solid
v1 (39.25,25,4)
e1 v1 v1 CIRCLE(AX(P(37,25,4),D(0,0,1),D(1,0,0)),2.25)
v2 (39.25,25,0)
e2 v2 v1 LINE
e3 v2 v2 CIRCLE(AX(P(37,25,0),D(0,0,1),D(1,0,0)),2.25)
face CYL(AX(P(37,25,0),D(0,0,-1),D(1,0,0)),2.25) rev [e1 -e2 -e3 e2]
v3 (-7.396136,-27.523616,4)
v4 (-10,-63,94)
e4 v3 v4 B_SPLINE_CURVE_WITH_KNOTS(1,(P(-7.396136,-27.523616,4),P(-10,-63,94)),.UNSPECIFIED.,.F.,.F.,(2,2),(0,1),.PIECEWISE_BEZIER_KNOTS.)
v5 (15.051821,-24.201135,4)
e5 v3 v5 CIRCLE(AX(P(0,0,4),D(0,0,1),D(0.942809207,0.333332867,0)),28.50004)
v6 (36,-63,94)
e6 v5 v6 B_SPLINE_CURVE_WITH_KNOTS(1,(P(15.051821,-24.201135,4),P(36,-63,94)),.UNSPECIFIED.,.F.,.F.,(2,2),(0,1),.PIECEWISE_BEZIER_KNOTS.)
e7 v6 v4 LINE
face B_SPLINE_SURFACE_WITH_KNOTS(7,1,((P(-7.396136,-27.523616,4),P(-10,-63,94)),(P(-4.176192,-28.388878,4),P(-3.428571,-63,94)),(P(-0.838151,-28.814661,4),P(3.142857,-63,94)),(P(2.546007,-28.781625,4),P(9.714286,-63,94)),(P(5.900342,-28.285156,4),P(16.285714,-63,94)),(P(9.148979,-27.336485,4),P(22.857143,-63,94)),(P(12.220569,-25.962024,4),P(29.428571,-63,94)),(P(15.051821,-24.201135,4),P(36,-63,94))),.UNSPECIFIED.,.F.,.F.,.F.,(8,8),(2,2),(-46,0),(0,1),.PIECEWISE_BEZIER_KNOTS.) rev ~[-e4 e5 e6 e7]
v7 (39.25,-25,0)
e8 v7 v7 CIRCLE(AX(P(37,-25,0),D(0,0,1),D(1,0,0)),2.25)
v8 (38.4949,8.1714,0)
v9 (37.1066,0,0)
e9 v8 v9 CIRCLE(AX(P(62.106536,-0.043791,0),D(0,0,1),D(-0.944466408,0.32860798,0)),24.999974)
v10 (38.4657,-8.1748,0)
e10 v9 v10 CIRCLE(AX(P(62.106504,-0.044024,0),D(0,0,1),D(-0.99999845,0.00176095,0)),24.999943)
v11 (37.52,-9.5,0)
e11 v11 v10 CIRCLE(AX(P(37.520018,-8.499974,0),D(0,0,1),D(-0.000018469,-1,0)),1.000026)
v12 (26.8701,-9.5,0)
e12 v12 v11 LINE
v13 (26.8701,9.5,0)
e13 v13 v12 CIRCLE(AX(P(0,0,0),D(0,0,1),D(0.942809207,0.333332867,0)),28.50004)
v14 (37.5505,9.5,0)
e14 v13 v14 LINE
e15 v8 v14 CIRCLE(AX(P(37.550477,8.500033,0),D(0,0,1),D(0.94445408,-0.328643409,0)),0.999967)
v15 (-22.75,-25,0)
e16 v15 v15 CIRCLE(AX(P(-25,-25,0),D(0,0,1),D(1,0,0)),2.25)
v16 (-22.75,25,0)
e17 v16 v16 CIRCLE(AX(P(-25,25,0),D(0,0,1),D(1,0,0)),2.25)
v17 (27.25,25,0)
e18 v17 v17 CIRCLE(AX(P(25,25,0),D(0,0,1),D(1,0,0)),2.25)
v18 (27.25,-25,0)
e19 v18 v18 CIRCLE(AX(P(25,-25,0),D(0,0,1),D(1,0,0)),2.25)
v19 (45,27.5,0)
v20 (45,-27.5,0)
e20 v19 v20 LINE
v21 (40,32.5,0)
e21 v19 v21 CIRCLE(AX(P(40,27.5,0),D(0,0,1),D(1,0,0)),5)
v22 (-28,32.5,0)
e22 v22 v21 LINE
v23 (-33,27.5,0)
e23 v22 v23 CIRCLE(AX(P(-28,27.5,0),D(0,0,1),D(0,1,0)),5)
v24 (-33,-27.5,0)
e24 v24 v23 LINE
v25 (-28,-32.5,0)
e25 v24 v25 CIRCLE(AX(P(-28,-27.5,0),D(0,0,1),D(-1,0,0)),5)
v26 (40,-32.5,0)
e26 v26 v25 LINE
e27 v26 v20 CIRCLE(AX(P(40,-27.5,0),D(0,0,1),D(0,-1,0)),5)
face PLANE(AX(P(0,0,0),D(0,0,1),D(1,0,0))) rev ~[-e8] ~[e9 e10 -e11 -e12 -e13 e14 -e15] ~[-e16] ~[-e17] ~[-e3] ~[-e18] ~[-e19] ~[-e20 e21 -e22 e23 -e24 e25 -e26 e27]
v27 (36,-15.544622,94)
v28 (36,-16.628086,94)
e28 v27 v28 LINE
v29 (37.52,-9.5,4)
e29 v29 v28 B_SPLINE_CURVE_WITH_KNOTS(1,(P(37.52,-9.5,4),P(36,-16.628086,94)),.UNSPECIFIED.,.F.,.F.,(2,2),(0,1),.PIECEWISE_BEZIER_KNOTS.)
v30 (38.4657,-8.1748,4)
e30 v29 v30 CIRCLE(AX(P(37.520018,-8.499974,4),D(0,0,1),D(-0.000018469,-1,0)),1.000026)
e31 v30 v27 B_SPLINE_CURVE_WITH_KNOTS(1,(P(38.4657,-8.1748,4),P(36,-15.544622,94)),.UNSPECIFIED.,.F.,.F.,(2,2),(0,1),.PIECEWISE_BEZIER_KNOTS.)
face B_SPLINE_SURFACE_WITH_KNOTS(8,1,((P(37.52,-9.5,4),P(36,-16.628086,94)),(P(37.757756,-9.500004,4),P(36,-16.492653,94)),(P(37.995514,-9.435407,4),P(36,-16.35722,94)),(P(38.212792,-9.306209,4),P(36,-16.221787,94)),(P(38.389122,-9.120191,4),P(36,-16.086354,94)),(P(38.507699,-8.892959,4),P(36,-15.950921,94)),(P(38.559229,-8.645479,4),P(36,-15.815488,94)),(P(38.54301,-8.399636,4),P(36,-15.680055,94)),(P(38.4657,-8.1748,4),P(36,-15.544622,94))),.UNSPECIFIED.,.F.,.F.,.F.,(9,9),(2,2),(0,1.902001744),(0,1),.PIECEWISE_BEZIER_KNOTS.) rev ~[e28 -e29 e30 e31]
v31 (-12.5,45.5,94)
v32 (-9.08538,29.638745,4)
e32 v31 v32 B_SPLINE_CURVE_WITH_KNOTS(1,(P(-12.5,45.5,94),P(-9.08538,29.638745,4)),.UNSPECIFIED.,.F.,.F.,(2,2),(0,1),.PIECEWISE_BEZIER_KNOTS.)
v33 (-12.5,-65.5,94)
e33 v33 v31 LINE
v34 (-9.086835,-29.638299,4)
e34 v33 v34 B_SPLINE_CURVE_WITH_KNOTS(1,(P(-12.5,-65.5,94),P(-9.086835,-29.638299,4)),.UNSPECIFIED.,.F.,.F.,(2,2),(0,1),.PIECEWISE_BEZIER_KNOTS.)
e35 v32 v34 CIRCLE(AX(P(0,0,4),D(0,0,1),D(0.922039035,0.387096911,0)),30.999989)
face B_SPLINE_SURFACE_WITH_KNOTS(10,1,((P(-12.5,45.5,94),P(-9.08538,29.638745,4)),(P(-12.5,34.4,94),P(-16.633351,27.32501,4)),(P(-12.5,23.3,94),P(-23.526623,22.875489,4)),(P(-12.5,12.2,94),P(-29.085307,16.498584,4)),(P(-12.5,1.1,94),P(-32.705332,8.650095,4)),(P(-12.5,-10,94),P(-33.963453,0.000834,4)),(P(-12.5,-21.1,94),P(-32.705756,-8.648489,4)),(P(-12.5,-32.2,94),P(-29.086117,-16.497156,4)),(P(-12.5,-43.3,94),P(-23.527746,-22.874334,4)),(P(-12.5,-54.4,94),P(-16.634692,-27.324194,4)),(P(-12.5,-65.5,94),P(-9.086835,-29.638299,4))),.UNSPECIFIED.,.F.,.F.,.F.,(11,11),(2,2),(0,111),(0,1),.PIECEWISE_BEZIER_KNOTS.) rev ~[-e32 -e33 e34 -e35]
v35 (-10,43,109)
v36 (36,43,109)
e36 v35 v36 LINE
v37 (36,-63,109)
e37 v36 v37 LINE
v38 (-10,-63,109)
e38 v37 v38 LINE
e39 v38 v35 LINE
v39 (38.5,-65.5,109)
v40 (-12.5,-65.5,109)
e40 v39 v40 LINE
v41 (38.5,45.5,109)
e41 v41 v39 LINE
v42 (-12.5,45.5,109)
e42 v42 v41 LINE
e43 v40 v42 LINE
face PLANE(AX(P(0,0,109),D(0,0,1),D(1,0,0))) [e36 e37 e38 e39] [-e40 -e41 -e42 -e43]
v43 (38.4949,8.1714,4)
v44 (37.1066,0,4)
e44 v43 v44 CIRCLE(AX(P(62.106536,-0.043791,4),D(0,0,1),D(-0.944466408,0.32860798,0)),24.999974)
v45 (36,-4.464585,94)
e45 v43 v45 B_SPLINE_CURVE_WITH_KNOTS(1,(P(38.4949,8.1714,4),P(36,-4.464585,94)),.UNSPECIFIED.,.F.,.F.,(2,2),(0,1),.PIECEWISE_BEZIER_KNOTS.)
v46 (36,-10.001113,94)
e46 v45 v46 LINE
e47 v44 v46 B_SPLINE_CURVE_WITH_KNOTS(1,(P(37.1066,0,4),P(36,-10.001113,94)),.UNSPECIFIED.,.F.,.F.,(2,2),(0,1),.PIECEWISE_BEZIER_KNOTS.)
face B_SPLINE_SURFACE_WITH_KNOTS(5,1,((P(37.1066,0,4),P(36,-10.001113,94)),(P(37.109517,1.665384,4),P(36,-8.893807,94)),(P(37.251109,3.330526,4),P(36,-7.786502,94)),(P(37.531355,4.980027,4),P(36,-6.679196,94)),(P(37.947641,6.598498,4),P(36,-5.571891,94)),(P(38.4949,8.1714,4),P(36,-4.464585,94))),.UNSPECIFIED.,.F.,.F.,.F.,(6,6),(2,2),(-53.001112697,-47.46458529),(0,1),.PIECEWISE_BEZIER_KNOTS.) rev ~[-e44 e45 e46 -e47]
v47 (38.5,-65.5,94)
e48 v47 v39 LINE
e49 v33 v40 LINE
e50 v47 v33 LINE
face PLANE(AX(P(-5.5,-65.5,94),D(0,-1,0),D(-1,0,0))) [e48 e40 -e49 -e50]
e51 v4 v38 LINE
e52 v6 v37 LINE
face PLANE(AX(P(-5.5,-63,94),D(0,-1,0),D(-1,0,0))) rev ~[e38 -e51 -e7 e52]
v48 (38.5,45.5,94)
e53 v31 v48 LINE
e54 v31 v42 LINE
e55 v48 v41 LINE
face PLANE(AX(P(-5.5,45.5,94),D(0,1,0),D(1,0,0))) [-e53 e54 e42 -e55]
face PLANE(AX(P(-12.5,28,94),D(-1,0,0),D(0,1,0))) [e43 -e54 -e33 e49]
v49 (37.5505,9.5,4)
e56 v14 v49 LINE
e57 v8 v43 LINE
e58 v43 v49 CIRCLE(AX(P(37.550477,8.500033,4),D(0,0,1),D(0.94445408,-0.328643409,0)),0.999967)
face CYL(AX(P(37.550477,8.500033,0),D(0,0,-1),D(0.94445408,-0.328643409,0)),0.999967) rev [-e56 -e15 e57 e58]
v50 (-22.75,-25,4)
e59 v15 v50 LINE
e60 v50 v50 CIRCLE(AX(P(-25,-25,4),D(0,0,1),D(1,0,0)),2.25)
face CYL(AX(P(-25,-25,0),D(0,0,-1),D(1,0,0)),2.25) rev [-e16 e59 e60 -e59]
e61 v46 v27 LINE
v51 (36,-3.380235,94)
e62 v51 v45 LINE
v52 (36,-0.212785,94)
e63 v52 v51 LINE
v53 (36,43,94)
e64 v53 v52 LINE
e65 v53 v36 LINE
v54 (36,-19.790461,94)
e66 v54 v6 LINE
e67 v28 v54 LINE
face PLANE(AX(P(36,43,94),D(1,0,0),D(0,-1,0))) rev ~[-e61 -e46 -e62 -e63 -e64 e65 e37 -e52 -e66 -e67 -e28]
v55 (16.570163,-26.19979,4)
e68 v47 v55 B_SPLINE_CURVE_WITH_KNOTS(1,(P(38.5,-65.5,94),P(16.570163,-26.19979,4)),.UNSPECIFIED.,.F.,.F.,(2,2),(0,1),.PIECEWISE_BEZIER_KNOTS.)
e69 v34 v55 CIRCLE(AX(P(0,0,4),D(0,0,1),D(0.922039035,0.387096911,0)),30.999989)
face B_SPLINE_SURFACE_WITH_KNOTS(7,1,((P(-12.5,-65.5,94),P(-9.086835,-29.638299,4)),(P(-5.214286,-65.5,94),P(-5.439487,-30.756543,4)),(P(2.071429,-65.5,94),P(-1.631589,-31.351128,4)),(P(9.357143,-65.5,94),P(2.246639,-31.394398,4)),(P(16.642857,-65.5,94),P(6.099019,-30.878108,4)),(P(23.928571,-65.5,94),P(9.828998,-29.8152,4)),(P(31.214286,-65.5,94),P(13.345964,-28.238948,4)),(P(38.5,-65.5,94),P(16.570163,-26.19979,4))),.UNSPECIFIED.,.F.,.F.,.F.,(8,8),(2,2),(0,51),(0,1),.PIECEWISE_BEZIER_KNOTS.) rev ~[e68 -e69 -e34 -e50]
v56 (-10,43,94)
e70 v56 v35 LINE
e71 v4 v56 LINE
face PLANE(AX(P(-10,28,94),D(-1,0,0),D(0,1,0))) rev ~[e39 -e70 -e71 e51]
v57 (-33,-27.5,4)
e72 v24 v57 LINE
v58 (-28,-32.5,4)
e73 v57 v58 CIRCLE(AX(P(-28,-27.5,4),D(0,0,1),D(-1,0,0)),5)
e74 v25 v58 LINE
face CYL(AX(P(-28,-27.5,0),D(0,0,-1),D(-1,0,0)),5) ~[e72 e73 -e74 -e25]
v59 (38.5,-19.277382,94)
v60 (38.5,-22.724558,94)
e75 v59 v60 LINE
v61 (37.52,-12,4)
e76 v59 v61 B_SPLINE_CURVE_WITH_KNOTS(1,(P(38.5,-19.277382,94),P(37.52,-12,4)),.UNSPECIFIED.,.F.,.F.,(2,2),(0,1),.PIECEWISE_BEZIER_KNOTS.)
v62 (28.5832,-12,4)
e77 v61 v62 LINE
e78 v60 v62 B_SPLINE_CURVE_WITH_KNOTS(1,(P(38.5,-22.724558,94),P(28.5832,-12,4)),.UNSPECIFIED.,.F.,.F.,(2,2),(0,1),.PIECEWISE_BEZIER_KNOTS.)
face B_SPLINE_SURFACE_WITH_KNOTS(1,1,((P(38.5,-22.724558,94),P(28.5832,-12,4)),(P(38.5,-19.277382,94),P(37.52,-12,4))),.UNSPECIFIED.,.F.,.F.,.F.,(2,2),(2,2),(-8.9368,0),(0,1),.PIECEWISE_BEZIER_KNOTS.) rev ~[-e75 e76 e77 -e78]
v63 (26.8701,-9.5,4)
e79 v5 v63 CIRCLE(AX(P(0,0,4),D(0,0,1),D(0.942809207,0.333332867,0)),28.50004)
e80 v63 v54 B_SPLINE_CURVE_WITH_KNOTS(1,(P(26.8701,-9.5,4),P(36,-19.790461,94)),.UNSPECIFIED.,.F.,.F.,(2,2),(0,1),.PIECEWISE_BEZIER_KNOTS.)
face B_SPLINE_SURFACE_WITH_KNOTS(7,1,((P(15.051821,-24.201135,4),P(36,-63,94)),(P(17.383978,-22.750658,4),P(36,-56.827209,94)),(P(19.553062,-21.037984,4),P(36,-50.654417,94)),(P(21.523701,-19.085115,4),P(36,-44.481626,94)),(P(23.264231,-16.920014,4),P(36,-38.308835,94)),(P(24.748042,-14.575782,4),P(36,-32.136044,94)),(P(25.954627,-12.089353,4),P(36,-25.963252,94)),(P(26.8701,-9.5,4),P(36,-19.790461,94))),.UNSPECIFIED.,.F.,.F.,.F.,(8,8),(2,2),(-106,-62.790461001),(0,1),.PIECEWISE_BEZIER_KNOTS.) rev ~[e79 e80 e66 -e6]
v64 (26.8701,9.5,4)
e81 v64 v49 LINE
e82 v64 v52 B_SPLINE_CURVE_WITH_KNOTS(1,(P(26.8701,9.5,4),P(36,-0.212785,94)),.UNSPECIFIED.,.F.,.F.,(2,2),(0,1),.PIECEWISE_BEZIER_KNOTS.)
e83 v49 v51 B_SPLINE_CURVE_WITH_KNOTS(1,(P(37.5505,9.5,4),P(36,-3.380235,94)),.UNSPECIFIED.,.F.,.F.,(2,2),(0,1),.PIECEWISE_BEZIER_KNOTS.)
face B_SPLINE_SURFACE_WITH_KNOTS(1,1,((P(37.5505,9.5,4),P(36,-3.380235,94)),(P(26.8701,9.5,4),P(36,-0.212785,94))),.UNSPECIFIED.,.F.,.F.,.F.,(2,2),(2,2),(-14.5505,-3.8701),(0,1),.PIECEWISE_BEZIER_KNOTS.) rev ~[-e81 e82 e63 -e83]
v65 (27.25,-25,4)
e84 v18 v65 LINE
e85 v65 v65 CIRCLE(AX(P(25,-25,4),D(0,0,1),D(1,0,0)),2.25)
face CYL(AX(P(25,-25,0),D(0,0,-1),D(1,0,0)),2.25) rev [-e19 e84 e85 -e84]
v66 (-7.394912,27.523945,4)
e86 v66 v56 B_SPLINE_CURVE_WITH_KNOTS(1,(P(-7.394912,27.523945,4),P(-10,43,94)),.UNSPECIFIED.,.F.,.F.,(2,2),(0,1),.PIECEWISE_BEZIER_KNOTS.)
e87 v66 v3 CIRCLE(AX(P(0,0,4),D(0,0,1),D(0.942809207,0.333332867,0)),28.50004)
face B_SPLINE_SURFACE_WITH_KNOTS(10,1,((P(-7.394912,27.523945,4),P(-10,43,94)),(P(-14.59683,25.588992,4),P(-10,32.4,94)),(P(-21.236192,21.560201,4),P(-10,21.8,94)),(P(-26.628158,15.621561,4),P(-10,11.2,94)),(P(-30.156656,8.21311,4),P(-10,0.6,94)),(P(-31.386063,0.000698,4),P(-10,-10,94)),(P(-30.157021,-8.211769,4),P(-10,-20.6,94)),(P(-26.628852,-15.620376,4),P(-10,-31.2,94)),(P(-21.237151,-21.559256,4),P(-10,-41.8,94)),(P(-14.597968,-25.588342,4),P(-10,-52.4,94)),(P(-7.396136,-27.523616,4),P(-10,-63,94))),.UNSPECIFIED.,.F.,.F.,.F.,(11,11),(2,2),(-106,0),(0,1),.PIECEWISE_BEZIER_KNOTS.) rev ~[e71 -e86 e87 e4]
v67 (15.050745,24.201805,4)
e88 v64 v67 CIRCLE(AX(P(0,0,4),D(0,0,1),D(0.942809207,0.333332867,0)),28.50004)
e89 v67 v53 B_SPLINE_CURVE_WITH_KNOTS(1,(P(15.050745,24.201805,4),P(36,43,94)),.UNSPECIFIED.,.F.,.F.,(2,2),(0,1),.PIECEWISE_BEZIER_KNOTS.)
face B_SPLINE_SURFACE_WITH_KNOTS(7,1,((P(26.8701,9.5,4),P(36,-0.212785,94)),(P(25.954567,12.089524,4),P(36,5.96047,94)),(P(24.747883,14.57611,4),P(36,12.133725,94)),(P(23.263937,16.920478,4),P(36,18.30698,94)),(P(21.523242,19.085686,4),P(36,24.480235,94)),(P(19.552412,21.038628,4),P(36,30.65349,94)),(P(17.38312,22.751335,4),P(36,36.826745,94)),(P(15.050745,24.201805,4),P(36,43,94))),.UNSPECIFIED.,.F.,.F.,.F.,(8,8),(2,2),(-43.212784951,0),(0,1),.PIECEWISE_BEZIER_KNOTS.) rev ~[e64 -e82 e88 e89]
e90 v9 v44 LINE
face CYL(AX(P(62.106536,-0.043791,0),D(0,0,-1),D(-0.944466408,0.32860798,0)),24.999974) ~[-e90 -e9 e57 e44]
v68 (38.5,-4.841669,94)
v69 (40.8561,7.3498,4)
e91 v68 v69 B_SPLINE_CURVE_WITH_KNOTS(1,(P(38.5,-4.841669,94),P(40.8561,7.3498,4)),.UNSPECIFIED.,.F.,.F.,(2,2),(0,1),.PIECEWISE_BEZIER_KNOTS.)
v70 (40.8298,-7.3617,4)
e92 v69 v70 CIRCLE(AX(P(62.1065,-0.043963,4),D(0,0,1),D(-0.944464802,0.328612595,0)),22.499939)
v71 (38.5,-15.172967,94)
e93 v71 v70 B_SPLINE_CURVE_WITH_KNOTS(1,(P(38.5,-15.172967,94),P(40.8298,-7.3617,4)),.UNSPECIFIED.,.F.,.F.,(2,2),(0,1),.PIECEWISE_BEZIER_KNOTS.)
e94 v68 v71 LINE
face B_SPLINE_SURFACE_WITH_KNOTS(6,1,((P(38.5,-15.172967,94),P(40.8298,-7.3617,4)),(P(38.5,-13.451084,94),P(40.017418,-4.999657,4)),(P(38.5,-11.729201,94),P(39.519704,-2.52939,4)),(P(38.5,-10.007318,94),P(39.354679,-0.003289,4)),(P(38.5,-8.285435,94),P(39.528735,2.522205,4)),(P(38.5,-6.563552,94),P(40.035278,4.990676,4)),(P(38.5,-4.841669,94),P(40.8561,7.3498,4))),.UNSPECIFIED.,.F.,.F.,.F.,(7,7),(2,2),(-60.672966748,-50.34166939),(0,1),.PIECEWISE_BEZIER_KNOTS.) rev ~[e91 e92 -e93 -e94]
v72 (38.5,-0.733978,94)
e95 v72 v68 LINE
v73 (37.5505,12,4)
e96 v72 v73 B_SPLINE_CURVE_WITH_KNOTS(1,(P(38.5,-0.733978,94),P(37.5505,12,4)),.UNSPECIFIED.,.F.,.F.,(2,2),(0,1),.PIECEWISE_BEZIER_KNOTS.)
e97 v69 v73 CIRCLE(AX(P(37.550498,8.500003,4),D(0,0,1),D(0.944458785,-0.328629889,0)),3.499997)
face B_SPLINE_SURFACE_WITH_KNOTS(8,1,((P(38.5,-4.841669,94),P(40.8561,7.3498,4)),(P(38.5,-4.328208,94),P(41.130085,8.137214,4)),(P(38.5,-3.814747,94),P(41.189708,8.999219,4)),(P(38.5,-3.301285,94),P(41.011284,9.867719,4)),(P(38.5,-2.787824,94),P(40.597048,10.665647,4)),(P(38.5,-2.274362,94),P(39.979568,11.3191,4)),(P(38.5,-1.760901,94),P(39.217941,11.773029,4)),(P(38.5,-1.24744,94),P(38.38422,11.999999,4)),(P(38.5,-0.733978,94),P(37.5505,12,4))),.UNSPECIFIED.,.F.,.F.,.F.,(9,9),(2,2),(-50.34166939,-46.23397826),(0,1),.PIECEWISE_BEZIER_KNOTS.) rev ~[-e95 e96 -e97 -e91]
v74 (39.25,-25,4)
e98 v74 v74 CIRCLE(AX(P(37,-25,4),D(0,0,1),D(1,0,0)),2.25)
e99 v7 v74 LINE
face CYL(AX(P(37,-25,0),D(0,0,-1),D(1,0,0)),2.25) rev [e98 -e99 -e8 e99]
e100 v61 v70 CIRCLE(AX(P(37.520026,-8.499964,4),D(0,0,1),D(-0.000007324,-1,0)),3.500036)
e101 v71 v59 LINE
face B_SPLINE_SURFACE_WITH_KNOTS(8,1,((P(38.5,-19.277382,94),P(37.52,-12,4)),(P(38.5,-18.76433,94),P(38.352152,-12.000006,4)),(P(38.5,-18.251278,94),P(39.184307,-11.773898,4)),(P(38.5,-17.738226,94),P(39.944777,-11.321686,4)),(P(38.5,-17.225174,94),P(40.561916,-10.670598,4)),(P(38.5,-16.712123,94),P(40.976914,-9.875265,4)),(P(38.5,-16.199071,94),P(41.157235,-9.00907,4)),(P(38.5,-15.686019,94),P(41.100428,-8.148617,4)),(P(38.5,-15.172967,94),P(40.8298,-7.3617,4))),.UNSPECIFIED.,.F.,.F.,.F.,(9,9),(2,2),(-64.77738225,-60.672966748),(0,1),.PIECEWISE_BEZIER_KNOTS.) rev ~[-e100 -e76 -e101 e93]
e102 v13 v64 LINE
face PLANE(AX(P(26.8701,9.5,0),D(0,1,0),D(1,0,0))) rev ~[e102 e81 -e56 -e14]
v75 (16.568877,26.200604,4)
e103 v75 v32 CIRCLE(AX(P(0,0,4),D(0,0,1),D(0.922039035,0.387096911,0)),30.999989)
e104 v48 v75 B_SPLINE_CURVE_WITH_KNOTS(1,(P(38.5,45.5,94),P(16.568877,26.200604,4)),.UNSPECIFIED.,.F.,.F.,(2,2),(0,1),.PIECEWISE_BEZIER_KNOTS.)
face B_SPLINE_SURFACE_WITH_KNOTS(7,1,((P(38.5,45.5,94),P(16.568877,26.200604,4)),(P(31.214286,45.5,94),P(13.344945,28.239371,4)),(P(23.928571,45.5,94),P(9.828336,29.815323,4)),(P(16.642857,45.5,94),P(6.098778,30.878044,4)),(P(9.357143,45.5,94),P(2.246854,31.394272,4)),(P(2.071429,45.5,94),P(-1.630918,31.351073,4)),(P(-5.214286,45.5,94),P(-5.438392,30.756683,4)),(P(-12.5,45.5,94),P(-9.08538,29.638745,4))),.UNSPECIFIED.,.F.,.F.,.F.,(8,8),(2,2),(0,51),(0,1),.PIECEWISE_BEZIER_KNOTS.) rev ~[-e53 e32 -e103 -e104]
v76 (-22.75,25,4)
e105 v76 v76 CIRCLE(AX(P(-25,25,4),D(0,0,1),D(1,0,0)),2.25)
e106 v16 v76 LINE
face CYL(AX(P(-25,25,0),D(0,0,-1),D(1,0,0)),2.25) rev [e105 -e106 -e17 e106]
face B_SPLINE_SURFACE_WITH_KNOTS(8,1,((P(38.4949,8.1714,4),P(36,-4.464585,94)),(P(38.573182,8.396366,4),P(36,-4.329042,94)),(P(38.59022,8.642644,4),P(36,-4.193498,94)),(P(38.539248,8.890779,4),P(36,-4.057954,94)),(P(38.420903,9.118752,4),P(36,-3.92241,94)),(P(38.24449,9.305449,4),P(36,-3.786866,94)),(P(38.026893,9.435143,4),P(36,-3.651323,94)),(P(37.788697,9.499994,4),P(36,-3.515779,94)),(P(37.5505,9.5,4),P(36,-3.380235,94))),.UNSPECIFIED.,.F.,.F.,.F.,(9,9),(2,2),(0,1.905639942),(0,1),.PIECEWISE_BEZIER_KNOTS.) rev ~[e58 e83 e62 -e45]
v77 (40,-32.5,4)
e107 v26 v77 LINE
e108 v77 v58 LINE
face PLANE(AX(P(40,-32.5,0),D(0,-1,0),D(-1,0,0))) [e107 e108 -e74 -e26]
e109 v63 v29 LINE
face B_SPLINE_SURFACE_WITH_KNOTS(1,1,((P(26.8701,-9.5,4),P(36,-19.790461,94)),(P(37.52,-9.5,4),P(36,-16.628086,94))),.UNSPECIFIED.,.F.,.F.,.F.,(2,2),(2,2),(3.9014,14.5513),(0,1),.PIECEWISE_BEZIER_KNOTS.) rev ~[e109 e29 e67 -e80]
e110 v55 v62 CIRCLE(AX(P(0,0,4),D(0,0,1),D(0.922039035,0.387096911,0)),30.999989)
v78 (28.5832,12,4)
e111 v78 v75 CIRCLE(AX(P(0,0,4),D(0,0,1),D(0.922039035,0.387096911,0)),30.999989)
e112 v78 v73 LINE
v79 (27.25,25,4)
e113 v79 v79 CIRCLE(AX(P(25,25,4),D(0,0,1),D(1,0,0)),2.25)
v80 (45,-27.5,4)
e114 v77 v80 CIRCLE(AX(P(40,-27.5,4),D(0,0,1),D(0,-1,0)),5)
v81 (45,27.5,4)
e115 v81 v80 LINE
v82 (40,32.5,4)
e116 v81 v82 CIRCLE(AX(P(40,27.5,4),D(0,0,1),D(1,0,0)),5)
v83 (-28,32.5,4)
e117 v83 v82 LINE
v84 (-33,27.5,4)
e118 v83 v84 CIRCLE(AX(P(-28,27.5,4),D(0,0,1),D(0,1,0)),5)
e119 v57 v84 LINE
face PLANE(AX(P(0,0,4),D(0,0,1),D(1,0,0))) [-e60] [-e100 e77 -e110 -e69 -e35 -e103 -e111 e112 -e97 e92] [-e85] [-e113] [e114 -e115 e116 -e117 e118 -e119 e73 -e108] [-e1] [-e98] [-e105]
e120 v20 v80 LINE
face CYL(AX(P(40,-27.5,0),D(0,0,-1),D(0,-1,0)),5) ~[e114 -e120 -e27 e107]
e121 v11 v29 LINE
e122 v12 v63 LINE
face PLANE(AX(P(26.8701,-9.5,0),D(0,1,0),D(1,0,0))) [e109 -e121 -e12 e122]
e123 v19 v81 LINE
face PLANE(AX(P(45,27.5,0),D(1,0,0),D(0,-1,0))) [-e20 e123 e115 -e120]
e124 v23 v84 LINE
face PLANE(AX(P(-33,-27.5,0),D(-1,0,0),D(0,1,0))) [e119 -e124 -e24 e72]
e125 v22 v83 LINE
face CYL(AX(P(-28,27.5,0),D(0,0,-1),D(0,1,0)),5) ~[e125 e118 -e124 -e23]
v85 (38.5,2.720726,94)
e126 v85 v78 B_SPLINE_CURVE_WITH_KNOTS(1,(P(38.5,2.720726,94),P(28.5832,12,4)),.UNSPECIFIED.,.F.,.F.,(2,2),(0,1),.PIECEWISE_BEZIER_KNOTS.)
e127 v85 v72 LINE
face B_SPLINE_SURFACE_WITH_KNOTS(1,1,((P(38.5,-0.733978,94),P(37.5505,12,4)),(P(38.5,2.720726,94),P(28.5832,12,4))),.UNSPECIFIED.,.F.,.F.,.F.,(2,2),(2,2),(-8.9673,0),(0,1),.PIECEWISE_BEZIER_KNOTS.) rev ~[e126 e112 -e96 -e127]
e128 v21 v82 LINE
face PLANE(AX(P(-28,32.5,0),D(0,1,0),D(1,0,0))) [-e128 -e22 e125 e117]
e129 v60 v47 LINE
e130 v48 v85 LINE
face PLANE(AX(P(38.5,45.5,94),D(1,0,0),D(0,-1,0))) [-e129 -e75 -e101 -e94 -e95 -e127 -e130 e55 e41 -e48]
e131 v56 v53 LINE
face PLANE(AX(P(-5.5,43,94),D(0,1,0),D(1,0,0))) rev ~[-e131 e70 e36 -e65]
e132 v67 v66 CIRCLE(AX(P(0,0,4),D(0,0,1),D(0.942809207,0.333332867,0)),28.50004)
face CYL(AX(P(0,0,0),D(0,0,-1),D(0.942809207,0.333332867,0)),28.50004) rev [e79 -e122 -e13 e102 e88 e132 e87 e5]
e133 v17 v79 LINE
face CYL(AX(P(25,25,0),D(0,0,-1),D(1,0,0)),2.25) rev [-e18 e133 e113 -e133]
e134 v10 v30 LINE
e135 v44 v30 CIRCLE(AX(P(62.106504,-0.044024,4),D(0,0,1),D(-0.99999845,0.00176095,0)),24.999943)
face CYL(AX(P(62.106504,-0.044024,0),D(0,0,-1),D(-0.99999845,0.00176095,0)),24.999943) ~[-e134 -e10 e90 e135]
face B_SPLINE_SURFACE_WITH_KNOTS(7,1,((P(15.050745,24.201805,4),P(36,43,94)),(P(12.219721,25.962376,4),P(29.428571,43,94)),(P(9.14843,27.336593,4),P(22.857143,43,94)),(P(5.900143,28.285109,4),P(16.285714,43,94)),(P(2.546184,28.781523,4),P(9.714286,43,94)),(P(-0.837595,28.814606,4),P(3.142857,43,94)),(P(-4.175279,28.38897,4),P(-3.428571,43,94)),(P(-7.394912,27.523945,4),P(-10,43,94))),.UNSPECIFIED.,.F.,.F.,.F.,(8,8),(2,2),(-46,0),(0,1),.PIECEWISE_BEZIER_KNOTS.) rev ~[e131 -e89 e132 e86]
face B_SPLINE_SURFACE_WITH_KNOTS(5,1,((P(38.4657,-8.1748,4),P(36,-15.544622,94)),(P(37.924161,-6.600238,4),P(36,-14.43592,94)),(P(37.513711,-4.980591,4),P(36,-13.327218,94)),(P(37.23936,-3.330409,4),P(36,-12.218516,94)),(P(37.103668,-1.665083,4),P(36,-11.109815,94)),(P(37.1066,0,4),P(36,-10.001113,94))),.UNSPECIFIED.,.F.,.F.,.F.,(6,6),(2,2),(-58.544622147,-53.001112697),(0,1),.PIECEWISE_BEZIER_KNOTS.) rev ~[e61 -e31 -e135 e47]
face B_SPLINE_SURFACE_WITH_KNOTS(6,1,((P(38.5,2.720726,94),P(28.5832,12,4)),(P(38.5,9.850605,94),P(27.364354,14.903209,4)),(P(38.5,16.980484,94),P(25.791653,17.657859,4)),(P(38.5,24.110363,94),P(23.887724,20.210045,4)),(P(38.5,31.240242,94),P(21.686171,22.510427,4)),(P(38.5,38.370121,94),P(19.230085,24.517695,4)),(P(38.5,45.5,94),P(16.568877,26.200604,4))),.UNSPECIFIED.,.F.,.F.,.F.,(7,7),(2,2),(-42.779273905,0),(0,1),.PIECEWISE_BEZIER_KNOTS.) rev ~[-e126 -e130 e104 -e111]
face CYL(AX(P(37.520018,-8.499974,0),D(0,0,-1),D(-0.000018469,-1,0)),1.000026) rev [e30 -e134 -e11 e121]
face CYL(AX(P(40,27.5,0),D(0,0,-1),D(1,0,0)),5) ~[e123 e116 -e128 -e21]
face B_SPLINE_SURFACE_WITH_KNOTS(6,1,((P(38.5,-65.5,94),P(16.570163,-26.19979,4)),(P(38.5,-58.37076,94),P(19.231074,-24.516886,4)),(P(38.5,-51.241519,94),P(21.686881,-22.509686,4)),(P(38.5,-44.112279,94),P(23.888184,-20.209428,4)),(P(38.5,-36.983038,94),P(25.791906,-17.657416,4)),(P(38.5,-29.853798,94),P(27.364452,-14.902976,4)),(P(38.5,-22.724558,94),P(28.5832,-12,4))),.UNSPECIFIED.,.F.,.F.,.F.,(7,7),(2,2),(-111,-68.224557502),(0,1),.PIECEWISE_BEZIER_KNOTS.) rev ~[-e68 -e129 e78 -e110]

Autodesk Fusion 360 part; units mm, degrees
sketch "Sketch1" plane through (0, 0, 0) normal (0, 0, 1) x (1, 0, 0)
  line L0 (-35, 0) -> (100, 0) construction
  line L1 (-40, 25) -> (100, 25) construction
  line L2 (-40, -25) -> (100, -25) construction
  line L3 (-25, 35) -> (-25, -35) construction
  line L4 (25, 35) -> (25, -35) construction
  line L5 (37, 40) -> (37, -35) construction
  line L6 (87, 40) -> (87, -35) construction
  line L7 (0, 34.11) -> (0, -35.89) construction
  line L8 (62, 39.5481) -> (62, -30.4569) construction
  circle A0 centre (-25, 25) radius 2.25
  circle A1 centre (-25, -25) radius 2.25
  circle A2 centre (25, 25) radius 2.25
  circle A3 centre (25, -25) radius 2.25
  circle A4 centre (37, -25) radius 2.25
  circle A5 centre (37, 25) radius 2.25
  circle A6 centre (62, 0) radius 28.5 construction
  arc A7 (26.8701, 9.5) -> (26.8701, -9.5) centre (0, 0) ccw
  arc A8 (28.5, 0) -> (26.8701, 9.5) centre (0, 0) ccw construction
  arc A9 (26.8701, -9.5) -> (28.5, 0) centre (0, 0) ccw construction
  line L9 (22.9687, -9.5) -> (25, -9.5) construction
  line L10 (23, 9.5) -> (25, 9.5) construction
  line L11 (-28, 32.5) -> (40, 32.5)
  line L12 (45, 27.5) -> (45, -27.5)
  line L13 (40, -32.5) -> (-28, -32.5)
  line L14 (-33, -27.5) -> (-33, 27.5)
  arc A10 (40, -32.5) -> (45, -27.5) centre (40, -27.5) ccw
  arc A11 (-33, -27.5) -> (-28, -32.5) centre (-28, -27.5) ccw
  arc A12 (-28, 32.5) -> (-33, 27.5) centre (-28, 27.5) ccw
  arc A13 (45, 27.5) -> (40, 32.5) centre (40, 27.5) ccw
  line L15 (23, 9.5) -> (37.5505, 9.5)
  line L16 (22.9687, -9.5) -> (37.52, -9.5)
  arc A14 (38.9638, -9.5) -> (39, 9.5) centre (62.1065, -0.044) ccw construction
  arc A15 (38.4949, 8.1714) -> (37.1066, 0) centre (62.1065, -0.044) ccw
  arc A16 (37.1066, 0) -> (38.4657, -8.1748) centre (62.1065, -0.044) ccw
  arc A17 (38.4949, 8.1714) -> (37.5505, 9.5) centre (37.5505, 8.5) ccw
  arc A18 (37.52, -9.5) -> (38.4657, -8.1748) centre (37.52, -8.5) ccw
  dimension "d1" = 50
  dimension "d2" = 50
  dimension "d3" = 50
  dimension "d6" = 62
  dimension "d10" = 4.5
  dimension "d11" = 4.5
  dimension "d12" = 4.5
  dimension "d13" = 4.5
  dimension "d14" = 4.5
  dimension "d15" = 4.5
  dimension "d16" = 57
  dimension "d18" = 57
  dimension "d20" = 19
  dimension "d21" = 65
  dimension "d23" = 8
  dimension "d24" = 8
  dimension "d25" = 5
  dimension "d26" = 5
  dimension "d27" = 5
  dimension "d28" = 5
  dimension "d49" = 50
  dimension "d50" = 1
  dimension "d51" = 1
extrude "Extrude4" add sketch "Sketch1" along normal blind 4 makes body 1
sketch "Sketch6" plane through (0, 0, 4) normal (0, 0, 1) x (-1, 0, 0)
  circle A0 centre (-37, 25) radius 2.25
  circle A1 centre (25, -25) radius 2.25
  circle A2 centre (-25, -25) radius 2.25
  circle A3 centre (-25, 25) radius 2.25
  circle A4 centre (25, 25) radius 2.25
  circle A5 centre (-37, -25) radius 2.25
  arc A6 (-26.8701, -9.5) -> (-26.8701, 9.5) centre (0, 0) ccw
  line L0 (-26.8701, -9.5) -> (-37.5505, -9.5)
  arc A7 (-38.4949, -8.1714) -> (-37.5505, -9.5) centre (-37.5505, -8.5) ccw
  arc A8 (-38.4949, -8.1714) -> (-38.4657, 8.1748) centre (-62.1065, 0.044) ccw
  arc A9 (-37.52, 9.5) -> (-38.4657, 8.1748) centre (-37.52, 8.5) ccw
  line L1 (-37.52, 9.5) -> (-26.8701, 9.5)
  arc A10 (-40, 32.5) -> (-45, 27.5) centre (-40, 27.5) ccw
  line L2 (-45, 27.5) -> (-45, -27.5)
  arc A11 (-45, -27.5) -> (-40, -32.5) centre (-40, -27.5) ccw
  line L3 (-40, -32.5) -> (28, -32.5)
  arc A12 (28, -32.5) -> (33, -27.5) centre (28, -27.5) ccw
  line L4 (33, -27.5) -> (33, 27.5)
  arc A13 (33, 27.5) -> (28, 32.5) centre (28, 27.5) ccw
  line L5 (28, 32.5) -> (-40, 32.5)
  line L6 (-37.52, 12) -> (-28.5832, 12)
  arc A14 (-28.5832, -12) -> (-28.5832, 12) centre (0, 0) ccw
  line L7 (-28.5832, -12) -> (-37.5505, -12)
  arc A15 (-40.8561, -7.3498) -> (-37.5505, -12) centre (-37.5505, -8.5) ccw
  arc A16 (-40.8561, -7.3498) -> (-40.8298, 7.3617) centre (-62.1065, 0.044) ccw
  arc A17 (-37.52, 12) -> (-40.8298, 7.3617) centre (-37.52, 8.5) ccw
  dimension "d54" = 2.5
ref_plane "WorkPlane1" through (0, 0, 94) normal (0, 0, 1) x (1, 0, 0)
sketch "Sketch2" plane through (0, 0, 94) normal (0, 0, 1) x (1, 0, 0)
  line L0 (0, 45) -> (0, -45) construction
  line L1 (-40, 0) -> (55, 0) construction
  line L2 (13, 45) -> (13, -45) construction
  line L3 (-40, -10) -> (55, -10) construction
  line L4 (36, -63) -> (-5.5, -63)
  line L5 (-10, -48) -> (-10, 28)
  line L6 (-5.5, 43) -> (36, 43)
  line L7 (36, 43) -> (36, -63)
  line L8 (36, -63) -> (-10, 43) construction
  line L9 (-10, -63) -> (36, 43) construction
  line L10 (-10, 28) -> (-10, 43)
  line L11 (-10, 43) -> (-5.5, 43)
  line L12 (-10, -63) -> (-10, -48)
  line L13 (-5.5, -63) -> (-10, -63)
  line L14 (-5.5, -65.5) -> (-12.5, -65.5)
  line L15 (-12.5, -65.5) -> (-12.5, -48)
  line L16 (-12.5, -48) -> (-12.5, 28)
  line L17 (-12.5, 28) -> (-12.5, 45.5)
  line L18 (-12.5, 45.5) -> (-5.5, 45.5)
  line L19 (-5.5, 45.5) -> (38.5, 45.5)
  line L20 (38.5, 45.5) -> (38.5, -65.5)
  line L21 (38.5, -65.5) -> (-5.5, -65.5)
  point P0 (13, -10)
  dimension "d34" = 13
  dimension "d35" = 10
  dimension "d36" = 46
  dimension "d37" = 106
  dimension "d46" = -2.5
extrude "Extrude3" add sketch "Sketch2" along normal blind 15 separate body makes body 2
loft "Loft5" add profiles "Sketch2", "Sketch6" section 1 contours L4 L5 L6 L7 L10 L11 L12 L13 | L14 L15 L16 L17 L18 L19 L20 L21 section 2 contours L6 A14 L7 A15 A16 A17 bodies 1 2
loft "Loft6" cut section 1 face at (-2.0683, -8.0442, 4) section 2 face at (20.6667, 7.6667, 94) on bodies 1 bodies 1
